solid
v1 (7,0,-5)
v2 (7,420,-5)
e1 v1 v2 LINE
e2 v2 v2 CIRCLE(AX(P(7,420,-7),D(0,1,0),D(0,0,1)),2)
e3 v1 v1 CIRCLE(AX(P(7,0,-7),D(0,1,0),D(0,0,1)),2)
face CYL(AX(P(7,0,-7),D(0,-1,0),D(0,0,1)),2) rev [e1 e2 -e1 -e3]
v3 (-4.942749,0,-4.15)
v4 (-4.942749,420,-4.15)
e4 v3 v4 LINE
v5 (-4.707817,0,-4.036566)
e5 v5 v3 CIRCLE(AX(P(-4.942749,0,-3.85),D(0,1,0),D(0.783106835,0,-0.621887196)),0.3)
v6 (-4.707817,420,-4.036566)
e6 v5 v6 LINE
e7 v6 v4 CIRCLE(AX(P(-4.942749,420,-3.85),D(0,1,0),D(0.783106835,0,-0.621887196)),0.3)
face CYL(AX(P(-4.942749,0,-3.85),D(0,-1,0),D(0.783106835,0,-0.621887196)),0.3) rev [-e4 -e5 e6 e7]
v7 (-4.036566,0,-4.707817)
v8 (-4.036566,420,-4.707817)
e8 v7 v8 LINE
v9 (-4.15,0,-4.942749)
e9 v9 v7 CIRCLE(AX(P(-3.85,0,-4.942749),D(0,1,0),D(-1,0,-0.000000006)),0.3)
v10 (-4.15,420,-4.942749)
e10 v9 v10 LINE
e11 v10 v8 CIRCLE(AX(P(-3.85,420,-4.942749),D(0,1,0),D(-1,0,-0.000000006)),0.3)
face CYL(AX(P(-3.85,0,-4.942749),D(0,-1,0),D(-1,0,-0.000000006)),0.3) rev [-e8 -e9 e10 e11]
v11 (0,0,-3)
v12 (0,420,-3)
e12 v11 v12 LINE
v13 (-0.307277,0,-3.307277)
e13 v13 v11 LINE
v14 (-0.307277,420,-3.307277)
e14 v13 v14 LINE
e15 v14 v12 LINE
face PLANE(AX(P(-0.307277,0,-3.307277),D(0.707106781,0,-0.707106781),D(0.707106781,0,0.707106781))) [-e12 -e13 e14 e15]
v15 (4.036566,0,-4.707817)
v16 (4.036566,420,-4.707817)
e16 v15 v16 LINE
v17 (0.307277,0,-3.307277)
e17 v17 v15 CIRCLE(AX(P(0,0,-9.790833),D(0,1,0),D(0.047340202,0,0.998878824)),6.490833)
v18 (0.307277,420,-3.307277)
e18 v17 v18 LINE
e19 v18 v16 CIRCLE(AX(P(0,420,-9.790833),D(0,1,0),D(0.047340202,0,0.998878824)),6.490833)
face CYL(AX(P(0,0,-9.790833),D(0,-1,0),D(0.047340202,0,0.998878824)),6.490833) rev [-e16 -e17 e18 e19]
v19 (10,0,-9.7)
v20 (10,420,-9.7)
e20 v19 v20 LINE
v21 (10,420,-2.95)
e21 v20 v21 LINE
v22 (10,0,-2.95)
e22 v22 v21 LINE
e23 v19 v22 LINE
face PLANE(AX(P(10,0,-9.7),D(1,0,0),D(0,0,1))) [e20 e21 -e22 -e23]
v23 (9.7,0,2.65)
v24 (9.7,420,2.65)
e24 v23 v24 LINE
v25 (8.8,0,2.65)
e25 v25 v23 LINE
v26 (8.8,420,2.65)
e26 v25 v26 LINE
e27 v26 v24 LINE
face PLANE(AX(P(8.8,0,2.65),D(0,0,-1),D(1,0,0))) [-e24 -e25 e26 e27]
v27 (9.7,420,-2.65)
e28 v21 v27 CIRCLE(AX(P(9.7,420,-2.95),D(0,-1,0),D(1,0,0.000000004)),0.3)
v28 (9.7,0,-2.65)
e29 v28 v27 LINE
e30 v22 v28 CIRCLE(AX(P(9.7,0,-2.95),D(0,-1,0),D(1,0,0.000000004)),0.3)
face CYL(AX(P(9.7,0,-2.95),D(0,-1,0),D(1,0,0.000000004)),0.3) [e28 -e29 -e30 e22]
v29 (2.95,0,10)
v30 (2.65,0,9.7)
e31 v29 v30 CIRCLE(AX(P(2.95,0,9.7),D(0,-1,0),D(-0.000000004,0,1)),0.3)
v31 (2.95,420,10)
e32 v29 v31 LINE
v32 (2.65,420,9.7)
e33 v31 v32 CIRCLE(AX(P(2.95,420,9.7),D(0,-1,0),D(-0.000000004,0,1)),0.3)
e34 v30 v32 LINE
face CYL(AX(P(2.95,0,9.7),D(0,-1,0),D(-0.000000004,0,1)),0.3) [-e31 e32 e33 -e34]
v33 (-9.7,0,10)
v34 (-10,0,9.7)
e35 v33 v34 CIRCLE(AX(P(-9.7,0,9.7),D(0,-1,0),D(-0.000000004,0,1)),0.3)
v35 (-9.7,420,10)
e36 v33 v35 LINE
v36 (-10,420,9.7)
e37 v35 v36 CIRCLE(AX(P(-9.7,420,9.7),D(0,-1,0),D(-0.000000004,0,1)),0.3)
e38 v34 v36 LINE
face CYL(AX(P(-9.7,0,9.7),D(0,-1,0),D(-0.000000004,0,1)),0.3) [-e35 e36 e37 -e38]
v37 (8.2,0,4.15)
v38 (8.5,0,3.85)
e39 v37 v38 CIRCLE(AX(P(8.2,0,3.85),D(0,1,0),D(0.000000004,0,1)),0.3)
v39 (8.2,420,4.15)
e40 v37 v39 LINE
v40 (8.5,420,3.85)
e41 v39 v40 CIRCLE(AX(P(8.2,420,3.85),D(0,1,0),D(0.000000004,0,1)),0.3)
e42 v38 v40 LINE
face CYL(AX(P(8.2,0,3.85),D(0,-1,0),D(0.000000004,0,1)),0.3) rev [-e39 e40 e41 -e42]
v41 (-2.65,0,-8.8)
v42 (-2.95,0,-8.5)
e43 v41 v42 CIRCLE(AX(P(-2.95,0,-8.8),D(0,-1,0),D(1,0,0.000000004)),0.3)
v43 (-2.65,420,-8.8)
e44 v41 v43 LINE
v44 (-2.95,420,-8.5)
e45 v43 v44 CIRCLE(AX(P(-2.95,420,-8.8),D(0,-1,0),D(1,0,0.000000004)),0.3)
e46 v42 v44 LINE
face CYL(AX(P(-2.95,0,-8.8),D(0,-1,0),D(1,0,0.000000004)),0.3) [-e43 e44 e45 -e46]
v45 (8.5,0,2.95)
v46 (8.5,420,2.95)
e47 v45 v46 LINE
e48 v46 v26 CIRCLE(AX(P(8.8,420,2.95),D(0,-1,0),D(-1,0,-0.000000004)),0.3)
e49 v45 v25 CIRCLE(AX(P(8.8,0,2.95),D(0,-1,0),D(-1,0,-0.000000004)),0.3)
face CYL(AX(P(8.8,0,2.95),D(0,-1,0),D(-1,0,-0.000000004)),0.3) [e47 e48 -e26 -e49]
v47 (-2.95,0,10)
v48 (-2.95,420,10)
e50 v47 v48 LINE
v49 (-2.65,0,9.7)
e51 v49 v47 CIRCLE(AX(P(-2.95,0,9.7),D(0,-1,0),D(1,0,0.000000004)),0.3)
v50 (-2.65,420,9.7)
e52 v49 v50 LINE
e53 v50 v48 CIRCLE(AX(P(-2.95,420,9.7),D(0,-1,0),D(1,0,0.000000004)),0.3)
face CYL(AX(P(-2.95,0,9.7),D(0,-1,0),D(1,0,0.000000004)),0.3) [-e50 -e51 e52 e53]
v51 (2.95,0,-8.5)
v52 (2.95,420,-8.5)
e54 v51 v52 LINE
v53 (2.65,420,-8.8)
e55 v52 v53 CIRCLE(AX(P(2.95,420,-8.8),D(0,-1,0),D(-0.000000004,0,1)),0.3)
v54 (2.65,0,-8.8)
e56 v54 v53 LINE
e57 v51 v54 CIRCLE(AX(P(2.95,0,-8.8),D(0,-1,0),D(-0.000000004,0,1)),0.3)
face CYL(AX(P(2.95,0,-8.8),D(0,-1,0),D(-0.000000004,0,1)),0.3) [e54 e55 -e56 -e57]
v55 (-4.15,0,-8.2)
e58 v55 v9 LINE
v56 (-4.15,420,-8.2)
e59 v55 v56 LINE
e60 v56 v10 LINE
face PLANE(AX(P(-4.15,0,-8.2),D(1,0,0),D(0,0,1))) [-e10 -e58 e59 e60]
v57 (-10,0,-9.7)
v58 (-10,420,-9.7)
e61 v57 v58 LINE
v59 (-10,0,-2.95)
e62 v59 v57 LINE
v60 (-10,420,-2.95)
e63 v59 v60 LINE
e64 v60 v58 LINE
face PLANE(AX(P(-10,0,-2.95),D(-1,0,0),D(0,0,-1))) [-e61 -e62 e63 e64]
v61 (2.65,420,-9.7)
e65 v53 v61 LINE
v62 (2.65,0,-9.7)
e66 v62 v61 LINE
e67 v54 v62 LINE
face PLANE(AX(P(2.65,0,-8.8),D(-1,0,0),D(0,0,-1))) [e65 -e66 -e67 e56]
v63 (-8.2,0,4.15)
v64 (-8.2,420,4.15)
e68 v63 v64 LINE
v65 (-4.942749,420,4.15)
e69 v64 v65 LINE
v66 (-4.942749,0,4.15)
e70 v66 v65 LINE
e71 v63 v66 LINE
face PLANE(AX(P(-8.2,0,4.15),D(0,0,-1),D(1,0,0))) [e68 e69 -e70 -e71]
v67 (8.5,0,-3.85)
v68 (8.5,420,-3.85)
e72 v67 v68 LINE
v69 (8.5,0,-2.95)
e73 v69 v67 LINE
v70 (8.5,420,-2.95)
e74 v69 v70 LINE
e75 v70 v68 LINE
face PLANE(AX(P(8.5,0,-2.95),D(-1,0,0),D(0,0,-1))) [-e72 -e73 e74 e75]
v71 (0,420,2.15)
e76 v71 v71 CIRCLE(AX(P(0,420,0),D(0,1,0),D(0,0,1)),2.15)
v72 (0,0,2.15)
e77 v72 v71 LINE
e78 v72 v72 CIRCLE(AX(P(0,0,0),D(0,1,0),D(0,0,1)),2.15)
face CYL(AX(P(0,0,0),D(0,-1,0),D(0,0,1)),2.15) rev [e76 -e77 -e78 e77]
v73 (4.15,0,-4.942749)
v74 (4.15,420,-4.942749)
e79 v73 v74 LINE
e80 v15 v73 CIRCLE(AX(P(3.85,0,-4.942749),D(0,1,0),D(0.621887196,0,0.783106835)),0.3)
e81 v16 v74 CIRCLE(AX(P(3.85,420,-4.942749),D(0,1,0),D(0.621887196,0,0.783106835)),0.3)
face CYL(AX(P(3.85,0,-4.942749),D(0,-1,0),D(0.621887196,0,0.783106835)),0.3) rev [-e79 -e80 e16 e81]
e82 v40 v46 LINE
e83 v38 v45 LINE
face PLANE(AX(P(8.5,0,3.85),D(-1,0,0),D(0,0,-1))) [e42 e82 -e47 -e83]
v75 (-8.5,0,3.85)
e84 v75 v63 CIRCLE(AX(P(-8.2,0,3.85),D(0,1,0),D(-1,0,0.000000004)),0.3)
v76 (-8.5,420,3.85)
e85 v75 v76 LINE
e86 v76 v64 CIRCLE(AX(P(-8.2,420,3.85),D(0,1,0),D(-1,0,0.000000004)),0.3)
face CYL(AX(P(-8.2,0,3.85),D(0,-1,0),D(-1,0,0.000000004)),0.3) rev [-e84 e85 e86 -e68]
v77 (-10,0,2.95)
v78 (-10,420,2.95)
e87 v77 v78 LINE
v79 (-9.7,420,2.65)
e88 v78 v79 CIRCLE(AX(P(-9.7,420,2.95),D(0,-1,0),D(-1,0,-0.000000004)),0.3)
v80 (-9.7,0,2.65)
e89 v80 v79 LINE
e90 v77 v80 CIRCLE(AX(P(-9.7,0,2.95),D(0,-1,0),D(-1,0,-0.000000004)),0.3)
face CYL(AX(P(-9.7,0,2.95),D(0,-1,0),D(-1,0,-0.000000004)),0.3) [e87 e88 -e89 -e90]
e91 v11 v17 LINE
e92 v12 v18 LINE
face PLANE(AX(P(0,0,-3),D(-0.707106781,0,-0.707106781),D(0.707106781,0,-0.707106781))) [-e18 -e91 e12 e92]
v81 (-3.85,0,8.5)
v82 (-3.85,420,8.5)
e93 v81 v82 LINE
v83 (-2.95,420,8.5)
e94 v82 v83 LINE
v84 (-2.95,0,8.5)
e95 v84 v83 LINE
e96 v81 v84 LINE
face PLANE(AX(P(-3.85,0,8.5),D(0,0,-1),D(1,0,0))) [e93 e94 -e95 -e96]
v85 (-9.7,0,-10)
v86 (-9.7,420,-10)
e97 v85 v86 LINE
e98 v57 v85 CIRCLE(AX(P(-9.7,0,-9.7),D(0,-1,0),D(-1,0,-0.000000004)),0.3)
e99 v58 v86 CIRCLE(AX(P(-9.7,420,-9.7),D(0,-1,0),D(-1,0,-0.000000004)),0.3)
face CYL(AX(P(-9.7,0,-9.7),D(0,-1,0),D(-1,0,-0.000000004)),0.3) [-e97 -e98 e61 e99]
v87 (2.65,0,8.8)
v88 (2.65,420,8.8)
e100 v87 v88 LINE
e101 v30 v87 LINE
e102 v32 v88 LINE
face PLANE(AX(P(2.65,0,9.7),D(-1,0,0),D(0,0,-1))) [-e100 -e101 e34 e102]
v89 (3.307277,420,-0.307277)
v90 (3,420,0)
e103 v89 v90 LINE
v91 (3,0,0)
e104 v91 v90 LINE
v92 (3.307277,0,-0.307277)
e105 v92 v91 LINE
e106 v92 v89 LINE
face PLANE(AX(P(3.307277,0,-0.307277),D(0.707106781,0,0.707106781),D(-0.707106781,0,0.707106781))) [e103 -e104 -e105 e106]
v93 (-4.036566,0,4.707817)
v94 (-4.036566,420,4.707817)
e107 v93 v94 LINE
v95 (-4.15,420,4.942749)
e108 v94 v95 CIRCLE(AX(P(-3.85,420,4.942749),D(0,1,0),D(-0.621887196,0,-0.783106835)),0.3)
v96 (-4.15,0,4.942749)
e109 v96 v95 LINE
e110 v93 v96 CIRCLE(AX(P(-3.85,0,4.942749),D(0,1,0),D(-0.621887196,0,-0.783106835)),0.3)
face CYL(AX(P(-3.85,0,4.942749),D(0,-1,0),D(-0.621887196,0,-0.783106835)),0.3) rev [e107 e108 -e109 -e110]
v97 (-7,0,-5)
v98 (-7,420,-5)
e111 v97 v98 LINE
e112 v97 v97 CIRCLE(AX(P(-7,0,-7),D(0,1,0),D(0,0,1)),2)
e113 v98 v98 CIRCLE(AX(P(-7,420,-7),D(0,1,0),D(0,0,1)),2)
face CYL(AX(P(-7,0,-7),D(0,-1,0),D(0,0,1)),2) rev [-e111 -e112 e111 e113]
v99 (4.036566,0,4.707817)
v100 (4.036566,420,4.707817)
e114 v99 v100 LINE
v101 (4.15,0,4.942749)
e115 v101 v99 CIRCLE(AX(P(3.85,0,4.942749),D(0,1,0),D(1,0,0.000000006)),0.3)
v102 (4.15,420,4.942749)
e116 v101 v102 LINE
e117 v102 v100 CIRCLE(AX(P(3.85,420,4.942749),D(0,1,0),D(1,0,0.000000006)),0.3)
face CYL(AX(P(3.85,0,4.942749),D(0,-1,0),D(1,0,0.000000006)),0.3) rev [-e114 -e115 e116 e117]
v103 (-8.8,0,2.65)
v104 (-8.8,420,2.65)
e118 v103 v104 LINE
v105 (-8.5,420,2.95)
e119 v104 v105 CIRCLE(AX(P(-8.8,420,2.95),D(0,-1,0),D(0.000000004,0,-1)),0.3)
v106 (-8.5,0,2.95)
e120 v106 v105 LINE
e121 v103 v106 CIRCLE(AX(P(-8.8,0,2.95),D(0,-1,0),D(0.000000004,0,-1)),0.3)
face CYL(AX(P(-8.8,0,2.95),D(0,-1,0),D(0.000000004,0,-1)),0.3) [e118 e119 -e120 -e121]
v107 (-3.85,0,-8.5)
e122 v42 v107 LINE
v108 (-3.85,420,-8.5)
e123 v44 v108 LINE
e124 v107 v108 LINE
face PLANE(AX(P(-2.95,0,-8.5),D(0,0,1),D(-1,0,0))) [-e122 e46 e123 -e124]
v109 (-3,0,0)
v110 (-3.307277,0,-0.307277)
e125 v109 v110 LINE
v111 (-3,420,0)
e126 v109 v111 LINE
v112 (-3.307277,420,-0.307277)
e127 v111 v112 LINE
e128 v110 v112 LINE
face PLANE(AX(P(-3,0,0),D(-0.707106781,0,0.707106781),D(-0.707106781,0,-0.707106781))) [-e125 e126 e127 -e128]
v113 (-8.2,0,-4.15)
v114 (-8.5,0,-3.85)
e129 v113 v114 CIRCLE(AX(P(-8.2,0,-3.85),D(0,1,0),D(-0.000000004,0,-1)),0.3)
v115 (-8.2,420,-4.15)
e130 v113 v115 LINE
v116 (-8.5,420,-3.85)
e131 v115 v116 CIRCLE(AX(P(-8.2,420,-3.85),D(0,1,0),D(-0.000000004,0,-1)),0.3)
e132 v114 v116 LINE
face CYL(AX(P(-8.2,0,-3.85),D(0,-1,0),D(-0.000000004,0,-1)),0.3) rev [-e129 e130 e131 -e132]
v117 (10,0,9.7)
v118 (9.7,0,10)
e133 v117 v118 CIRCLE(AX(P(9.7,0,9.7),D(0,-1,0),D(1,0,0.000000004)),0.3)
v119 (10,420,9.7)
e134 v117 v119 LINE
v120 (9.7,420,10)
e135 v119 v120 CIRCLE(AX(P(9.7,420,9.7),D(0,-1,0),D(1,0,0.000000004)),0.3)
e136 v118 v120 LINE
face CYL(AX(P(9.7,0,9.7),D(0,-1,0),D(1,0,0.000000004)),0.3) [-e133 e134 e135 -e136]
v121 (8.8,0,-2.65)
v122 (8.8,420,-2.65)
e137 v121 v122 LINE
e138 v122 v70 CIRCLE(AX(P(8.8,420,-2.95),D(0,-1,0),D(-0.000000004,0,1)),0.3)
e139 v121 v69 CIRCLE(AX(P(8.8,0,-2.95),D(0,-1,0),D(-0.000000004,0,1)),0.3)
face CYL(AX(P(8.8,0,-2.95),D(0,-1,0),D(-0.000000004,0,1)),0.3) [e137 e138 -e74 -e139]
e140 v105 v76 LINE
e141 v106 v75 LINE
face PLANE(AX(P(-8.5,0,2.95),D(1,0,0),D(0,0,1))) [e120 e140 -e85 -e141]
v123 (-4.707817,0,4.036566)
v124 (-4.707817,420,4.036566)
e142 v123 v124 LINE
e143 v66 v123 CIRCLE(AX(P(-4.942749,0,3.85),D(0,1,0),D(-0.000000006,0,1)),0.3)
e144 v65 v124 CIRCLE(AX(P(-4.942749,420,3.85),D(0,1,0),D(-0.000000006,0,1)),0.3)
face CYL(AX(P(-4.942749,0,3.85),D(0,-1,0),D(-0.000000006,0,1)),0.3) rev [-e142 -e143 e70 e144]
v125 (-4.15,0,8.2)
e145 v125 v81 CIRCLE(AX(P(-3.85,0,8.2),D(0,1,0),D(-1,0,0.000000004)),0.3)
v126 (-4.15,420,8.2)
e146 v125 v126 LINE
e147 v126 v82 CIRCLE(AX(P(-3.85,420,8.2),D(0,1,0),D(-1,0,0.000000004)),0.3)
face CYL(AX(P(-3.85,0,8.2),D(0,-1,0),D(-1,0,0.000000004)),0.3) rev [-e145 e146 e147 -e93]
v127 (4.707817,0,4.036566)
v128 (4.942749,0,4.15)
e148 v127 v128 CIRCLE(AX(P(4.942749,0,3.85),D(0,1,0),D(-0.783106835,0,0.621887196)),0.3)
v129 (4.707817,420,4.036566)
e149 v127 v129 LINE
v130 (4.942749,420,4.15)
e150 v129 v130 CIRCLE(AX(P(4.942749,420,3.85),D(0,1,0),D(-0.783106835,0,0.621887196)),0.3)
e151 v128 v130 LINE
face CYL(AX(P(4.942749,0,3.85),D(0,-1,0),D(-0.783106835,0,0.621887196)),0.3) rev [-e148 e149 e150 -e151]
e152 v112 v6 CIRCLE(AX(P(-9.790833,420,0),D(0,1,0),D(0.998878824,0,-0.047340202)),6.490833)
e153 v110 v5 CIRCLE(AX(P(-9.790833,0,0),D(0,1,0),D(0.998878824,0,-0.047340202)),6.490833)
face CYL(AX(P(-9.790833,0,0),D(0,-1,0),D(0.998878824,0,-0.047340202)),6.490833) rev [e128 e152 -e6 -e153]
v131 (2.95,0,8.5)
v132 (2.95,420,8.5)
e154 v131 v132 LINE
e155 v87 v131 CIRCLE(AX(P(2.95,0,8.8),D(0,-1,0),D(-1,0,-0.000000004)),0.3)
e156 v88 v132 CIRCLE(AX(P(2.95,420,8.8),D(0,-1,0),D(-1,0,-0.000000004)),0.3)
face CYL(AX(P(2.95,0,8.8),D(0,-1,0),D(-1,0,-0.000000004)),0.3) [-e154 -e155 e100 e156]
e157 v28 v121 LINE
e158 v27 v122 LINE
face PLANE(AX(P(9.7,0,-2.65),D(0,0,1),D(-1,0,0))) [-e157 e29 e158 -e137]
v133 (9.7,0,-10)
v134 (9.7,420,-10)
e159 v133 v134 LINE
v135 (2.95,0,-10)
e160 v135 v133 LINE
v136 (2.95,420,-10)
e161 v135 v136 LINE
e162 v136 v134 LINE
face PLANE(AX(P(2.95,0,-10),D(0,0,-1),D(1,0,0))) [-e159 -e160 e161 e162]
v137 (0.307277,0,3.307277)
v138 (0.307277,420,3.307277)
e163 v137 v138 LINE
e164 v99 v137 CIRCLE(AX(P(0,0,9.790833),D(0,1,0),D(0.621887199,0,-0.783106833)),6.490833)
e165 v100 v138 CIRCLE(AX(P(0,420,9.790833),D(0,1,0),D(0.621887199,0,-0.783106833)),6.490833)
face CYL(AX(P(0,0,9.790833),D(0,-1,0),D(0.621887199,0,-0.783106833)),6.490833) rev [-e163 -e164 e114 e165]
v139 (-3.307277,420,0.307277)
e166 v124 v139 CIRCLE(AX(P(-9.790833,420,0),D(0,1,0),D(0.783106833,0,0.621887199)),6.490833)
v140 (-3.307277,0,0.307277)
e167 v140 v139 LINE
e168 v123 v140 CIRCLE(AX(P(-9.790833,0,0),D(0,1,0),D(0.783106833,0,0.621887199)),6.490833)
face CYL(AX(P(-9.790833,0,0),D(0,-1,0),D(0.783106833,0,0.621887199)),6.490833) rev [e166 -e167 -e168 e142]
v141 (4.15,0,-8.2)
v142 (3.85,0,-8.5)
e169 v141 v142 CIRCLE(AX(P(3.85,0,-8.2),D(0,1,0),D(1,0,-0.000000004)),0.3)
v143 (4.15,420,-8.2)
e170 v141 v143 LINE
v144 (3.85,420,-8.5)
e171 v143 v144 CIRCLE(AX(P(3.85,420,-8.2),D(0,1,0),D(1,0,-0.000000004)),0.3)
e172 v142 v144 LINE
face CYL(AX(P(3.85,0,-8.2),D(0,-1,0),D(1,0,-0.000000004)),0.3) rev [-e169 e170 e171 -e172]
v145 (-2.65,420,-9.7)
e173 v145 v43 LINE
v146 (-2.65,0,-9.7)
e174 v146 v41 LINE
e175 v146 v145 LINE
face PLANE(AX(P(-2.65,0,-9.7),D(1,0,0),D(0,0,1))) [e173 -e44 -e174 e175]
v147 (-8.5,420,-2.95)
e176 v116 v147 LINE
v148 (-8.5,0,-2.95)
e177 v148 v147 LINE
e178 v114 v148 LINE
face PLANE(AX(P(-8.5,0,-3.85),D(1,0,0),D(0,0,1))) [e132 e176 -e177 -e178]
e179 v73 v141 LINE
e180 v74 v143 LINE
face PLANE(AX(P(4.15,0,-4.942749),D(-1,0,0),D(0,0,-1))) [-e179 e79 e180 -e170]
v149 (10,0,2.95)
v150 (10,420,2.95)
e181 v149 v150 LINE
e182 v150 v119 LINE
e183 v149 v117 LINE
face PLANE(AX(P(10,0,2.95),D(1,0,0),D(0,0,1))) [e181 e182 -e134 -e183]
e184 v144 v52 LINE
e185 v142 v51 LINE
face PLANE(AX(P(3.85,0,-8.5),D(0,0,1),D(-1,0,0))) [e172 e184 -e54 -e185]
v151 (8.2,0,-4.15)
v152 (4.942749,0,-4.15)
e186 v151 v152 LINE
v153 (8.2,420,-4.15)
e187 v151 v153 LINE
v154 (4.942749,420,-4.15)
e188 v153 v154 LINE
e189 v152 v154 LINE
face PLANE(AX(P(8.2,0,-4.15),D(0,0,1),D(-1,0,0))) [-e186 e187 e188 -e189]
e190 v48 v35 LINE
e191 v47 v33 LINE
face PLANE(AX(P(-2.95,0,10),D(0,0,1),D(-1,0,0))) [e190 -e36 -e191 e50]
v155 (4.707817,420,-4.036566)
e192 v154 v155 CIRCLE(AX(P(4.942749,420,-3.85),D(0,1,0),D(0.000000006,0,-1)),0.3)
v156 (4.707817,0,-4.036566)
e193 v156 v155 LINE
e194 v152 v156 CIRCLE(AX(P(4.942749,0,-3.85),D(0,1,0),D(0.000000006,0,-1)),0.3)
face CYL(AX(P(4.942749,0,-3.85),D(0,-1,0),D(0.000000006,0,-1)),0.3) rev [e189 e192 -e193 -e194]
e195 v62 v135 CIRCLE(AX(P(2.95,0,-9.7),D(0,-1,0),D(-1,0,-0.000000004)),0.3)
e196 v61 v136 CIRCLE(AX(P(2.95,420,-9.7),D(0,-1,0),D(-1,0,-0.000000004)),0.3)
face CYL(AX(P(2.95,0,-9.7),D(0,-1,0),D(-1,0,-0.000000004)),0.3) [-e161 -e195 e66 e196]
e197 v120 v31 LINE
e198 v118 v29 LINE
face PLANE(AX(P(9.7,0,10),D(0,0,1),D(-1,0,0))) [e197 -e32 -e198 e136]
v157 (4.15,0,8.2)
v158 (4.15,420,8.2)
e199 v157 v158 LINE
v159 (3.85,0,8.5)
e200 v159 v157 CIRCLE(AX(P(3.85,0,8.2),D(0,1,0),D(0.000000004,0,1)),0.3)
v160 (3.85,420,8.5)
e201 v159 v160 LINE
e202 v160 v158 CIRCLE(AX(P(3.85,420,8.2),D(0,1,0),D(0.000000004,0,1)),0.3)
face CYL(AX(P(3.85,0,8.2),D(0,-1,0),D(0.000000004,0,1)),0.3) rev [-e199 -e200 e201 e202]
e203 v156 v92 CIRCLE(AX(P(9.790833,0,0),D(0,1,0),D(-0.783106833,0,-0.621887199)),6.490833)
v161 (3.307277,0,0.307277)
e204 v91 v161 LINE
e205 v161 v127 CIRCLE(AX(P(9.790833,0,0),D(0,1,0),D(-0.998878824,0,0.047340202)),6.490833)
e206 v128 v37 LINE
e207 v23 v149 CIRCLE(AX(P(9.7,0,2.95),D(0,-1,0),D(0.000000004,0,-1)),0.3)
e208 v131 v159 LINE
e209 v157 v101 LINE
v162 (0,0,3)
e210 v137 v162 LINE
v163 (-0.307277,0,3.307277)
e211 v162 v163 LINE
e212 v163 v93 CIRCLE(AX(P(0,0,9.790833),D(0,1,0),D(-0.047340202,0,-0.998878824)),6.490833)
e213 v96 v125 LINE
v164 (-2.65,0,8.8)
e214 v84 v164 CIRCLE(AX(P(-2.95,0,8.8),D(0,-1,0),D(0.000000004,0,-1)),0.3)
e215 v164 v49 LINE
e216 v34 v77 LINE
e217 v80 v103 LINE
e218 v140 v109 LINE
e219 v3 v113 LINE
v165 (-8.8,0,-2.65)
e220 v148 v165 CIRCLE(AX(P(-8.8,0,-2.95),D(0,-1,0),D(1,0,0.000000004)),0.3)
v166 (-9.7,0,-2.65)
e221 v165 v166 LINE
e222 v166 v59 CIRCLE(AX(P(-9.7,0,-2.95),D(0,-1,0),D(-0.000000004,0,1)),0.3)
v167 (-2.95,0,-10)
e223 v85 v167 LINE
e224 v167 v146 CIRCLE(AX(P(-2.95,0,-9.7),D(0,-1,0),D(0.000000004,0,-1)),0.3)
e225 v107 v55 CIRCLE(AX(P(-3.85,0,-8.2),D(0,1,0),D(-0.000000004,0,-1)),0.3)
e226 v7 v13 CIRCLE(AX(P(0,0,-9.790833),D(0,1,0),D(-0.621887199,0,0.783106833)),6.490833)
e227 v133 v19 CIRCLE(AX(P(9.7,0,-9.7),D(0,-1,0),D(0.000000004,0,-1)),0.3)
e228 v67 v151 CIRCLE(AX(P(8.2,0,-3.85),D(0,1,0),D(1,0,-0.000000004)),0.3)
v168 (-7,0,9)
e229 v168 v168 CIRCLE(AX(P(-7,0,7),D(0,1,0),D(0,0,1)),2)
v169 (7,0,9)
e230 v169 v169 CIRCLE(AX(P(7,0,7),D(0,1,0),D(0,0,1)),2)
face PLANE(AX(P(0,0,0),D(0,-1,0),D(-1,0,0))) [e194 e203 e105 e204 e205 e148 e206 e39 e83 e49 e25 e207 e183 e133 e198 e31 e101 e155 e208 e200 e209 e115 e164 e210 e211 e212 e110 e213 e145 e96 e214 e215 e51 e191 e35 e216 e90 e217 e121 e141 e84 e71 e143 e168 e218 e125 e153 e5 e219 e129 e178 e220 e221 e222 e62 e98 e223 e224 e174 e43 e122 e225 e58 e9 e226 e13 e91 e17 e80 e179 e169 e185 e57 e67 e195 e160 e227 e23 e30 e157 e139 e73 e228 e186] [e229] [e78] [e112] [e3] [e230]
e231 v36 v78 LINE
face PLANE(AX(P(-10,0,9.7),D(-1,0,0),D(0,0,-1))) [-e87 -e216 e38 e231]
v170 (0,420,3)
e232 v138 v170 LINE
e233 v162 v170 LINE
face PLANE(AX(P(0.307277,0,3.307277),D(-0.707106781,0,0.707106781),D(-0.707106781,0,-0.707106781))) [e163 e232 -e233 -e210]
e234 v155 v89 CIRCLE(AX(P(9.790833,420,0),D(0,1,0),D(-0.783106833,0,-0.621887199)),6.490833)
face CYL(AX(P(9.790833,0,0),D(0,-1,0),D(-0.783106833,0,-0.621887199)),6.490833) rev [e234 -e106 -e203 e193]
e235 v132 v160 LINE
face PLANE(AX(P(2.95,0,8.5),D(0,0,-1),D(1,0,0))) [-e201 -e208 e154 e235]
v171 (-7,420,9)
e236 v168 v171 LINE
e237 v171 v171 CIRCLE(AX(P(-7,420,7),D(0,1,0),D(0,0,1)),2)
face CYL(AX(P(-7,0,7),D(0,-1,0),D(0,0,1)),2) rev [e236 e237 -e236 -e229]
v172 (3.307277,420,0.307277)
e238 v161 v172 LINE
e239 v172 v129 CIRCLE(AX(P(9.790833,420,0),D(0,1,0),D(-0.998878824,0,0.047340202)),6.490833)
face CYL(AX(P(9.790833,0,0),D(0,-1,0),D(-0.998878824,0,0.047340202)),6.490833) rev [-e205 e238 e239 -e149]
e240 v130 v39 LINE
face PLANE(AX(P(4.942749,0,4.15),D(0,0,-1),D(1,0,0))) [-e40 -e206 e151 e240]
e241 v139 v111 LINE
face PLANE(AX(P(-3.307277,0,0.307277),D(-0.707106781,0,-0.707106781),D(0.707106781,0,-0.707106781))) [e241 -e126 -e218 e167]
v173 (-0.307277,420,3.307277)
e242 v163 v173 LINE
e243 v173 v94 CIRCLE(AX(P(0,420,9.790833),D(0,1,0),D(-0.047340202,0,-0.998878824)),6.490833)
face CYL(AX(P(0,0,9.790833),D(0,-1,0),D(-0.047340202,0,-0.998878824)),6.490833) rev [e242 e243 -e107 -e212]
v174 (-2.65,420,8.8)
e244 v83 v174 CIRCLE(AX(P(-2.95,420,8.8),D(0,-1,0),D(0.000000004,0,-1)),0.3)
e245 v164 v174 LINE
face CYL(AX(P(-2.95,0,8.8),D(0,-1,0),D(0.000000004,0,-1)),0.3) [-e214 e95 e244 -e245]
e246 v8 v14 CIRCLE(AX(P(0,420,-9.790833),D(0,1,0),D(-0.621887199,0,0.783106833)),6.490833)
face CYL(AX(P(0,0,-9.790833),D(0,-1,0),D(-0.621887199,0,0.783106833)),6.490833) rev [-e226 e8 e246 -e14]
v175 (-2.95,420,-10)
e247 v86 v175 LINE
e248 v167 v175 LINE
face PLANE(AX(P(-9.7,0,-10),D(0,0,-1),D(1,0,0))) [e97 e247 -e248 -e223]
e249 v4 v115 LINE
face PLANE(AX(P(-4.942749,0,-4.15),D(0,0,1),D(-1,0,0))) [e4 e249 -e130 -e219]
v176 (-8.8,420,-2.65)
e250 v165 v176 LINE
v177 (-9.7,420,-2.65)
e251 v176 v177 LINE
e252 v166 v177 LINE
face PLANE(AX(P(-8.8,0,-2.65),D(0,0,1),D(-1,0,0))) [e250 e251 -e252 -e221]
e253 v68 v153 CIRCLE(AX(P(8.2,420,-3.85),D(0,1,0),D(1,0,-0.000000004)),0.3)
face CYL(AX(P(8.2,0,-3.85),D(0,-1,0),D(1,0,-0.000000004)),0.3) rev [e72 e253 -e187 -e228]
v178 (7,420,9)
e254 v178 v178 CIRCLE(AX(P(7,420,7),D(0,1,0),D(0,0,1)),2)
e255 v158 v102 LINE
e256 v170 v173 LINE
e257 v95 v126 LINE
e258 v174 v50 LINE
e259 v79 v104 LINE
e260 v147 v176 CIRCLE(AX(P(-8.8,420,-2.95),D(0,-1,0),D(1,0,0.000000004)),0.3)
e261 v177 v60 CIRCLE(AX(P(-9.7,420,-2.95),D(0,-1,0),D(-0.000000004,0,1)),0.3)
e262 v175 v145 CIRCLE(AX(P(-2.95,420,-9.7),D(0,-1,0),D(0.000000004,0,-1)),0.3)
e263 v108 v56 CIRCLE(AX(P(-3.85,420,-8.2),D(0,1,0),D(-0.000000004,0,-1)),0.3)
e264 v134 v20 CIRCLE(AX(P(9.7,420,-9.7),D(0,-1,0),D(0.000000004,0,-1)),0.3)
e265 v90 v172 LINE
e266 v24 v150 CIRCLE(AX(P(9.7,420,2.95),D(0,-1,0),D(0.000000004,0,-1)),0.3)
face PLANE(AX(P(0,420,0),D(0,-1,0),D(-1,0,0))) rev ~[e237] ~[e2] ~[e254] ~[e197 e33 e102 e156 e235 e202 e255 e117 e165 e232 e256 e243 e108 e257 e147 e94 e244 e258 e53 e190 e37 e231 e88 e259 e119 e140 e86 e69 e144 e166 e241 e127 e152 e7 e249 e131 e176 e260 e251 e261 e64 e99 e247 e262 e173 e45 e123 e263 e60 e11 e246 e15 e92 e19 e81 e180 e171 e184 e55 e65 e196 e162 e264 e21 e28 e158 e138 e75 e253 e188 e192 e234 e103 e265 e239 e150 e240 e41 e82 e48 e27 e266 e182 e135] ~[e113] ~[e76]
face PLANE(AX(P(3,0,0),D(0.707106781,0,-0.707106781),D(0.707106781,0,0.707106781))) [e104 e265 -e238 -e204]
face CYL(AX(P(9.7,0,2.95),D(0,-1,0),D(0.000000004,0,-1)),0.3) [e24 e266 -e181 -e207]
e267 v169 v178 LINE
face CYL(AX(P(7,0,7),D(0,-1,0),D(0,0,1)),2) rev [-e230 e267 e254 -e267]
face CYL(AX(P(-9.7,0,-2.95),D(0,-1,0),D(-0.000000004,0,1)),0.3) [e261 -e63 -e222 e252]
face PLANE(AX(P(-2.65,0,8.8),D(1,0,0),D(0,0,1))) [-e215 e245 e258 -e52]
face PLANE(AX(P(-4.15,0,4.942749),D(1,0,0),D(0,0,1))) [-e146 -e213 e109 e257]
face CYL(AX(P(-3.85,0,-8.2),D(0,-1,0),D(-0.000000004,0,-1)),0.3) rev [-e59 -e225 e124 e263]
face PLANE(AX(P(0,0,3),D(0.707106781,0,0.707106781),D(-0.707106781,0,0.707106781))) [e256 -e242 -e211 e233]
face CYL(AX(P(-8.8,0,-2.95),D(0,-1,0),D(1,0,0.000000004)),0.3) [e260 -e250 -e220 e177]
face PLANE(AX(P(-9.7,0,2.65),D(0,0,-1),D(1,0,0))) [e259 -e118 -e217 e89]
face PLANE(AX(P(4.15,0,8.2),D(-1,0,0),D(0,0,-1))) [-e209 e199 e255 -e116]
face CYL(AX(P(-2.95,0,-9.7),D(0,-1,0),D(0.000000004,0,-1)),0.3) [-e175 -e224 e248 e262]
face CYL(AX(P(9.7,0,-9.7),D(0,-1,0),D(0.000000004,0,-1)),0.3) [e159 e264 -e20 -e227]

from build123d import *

# Parameters (mm, degrees)
SKETCH_1_R      = 2.15
SKETCH_1_R_2    = 2
EXTRUDE_1_DEPTH = 420


with BuildPart() as part:
    # 스케치1 → 보스-돌출1 (new body)
    with BuildSketch(Plane(origin=(0, 0, 0), x_dir=(1, 0, 0), z_dir=(0, 1, 0))):
        with BuildLine():
            Line((4.15, 4.942749448), (4.15, 8.2))
            ThreePointArc((4.15, 8.2), (4.062132034, 8.412132034), (3.85, 8.5))
            Line((3.85, 8.5), (2.95, 8.5))
            ThreePointArc((2.95, 8.5), (2.737867966, 8.587867966), (2.65, 8.8))
            Line((2.65, 8.8), (2.65, 9.7))
            ThreePointArc((2.65, 9.7), (2.737867966, 9.912132034), (2.95, 10))
            Line((2.95, 10), (9.7, 10))
            ThreePointArc((9.7, 10), (9.912132034, 9.912132034), (10, 9.7))
            Line((10, 9.7), (10, 2.95))
            ThreePointArc((10, 2.95), (9.912132034, 2.737867966), (9.7, 2.65))
            Line((9.7, 2.65), (8.8, 2.65))
            ThreePointArc((8.8, 2.65), (8.587867966, 2.737867966), (8.5, 2.95))
            Line((8.5, 2.95), (8.5, 3.85))
            ThreePointArc((8.5, 3.85), (8.412132034, 4.062132034), (8.2, 4.15))
            Line((8.2, 4.15), (4.942749448, 4.15))
            ThreePointArc((4.942749448, 4.15), (4.812307598, 4.120157221), (4.707817398, 4.03656616))
            ThreePointArc((4.707817398, 4.03656616), (3.714379176, 2.282021525), (3.307277366, 0.307277366))
            Line((3.307277366, 0.307277366), (3, 0))
            Line((3, 0), (3.307277366, -0.307277366))
            ThreePointArc((3.307277366, -0.307277366), (3.714379176, -2.282021525), (4.707817398, -4.03656616))
            ThreePointArc((4.707817398, -4.03656616), (4.812307598, -4.120157221), (4.942749448, -4.15))
            Line((4.942749448, -4.15), (8.2, -4.15))
            ThreePointArc((8.2, -4.15), (8.412132034, -4.062132034), (8.5, -3.85))
            Line((8.5, -3.85), (8.5, -2.95))
            ThreePointArc((8.5, -2.95), (8.587867966, -2.737867966), (8.8, -2.65))
            Line((8.8, -2.65), (9.7, -2.65))
            ThreePointArc((9.7, -2.65), (9.912132034, -2.737867966), (10, -2.95))
            Line((10, -2.95), (10, -9.7))
            ThreePointArc((10, -9.7), (9.912132034, -9.912132034), (9.7, -10))
            Line((9.7, -10), (2.95, -10))
            ThreePointArc((2.95, -10), (2.737867966, -9.912132034), (2.65, -9.7))
            Line((2.65, -9.7), (2.65, -8.8))
            ThreePointArc((2.65, -8.8), (2.737867966, -8.587867966), (2.95, -8.5))
            Line((2.95, -8.5), (3.85, -8.5))
            ThreePointArc((3.85, -8.5), (4.062132034, -8.412132034), (4.15, -8.2))
            Line((4.15, -8.2), (4.15, -4.942749448))
            ThreePointArc((4.15, -4.942749448), (4.120157221, -4.812307598), (4.03656616, -4.707817398))
            ThreePointArc((4.03656616, -4.707817398), (2.282021525, -3.714379176), (0.307277366, -3.307277366))
            Line((0.307277366, -3.307277366), (0, -3))
            Line((0, -3), (-0.307277366, -3.307277366))
            ThreePointArc((-0.307277366, -3.307277366), (-2.282021525, -3.714379176), (-4.03656616, -4.707817398))
            ThreePointArc((-4.03656616, -4.707817398), (-4.120157221, -4.812307598), (-4.15, -4.942749448))
            Line((-4.15, -4.942749448), (-4.15, -8.2))
            ThreePointArc((-4.15, -8.2), (-4.062132034, -8.412132034), (-3.85, -8.5))
            Line((-3.85, -8.5), (-2.95, -8.5))
            ThreePointArc((-2.95, -8.5), (-2.737867966, -8.587867966), (-2.65, -8.8))
            Line((-2.65, -8.8), (-2.65, -9.7))
            ThreePointArc((-2.65, -9.7), (-2.737867966, -9.912132034), (-2.95, -10))
            Line((-2.95, -10), (-9.7, -10))
            ThreePointArc((-9.7, -10), (-9.912132034, -9.912132034), (-10, -9.7))
            Line((-10, -9.7), (-10, -2.95))
            ThreePointArc((-10, -2.95), (-9.912132034, -2.737867966), (-9.7, -2.65))
            Line((-9.7, -2.65), (-8.8, -2.65))
            ThreePointArc((-8.8, -2.65), (-8.587867966, -2.737867966), (-8.5, -2.95))
            Line((-8.5, -2.95), (-8.5, -3.85))
            ThreePointArc((-8.5, -3.85), (-8.412132034, -4.062132034), (-8.2, -4.15))
            Line((-8.2, -4.15), (-4.942749448, -4.15))
            ThreePointArc((-4.942749448, -4.15), (-4.812307598, -4.120157221), (-4.707817398, -4.03656616))
            ThreePointArc((-4.707817398, -4.03656616), (-3.714379176, -2.282021525), (-3.307277366, -0.307277366))
            Line((-3.307277366, -0.307277366), (-3, 0))
            Line((-3, 0), (-3.307277366, 0.307277366))
            ThreePointArc((-3.307277366, 0.307277366), (-3.714379176, 2.282021525), (-4.707817398, 4.03656616))
            ThreePointArc((-4.707817398, 4.03656616), (-4.812307598, 4.120157221), (-4.942749448, 4.15))
            Line((-4.942749448, 4.15), (-8.2, 4.15))
            ThreePointArc((-8.2, 4.15), (-8.412132034, 4.062132034), (-8.5, 3.85))
            Line((-8.5, 3.85), (-8.5, 2.95))
            ThreePointArc((-8.5, 2.95), (-8.587867966, 2.737867966), (-8.8, 2.65))
            Line((-8.8, 2.65), (-9.7, 2.65))
            ThreePointArc((-9.7, 2.65), (-9.912132034, 2.737867966), (-10, 2.95))
            Line((-10, 2.95), (-10, 9.7))
            ThreePointArc((-10, 9.7), (-9.912132034, 9.912132034), (-9.7, 10))
            Line((-9.7, 10), (-2.95, 10))
            ThreePointArc((-2.95, 10), (-2.737867966, 9.912132034), (-2.65, 9.7))
            Line((-2.65, 9.7), (-2.65, 8.8))
            ThreePointArc((-2.65, 8.8), (-2.737867966, 8.587867966), (-2.95, 8.5))
            Line((-2.95, 8.5), (-3.85, 8.5))
            ThreePointArc((-3.85, 8.5), (-4.062132034, 8.412132034), (-4.15, 8.2))
            Line((-4.15, 8.2), (-4.15, 4.942749448))
            ThreePointArc((-4.15, 4.942749448), (-4.120157221, 4.812307598), (-4.03656616, 4.707817398))
            ThreePointArc((-4.03656616, 4.707817398), (-2.282021525, 3.714379176), (-0.307277366, 3.307277366))
            Line((-0.307277366, 3.307277366), (0, 3))
            Line((0, 3), (0.307277366, 3.307277366))
            ThreePointArc((0.307277366, 3.307277366), (2.282021525, 3.714379176), (4.03656616, 4.707817398))
            ThreePointArc((4.03656616, 4.707817398), (4.120157221, 4.812307598), (4.15, 4.942749448))
        make_face()
        with Locations(Location((0, 0, 0), (0, 0, 270))):
            Circle(SKETCH_1_R, mode=Mode.SUBTRACT)
        with Locations(Location((-7, 7, 0), (0, 0, 270))):
            Circle(SKETCH_1_R_2, mode=Mode.SUBTRACT)
        with Locations(Location((-7, -7, 0), (0, 0, 270))):
            Circle(SKETCH_1_R_2, mode=Mode.SUBTRACT)
        with Locations(Location((7, 7, 0), (0, 0, 270))):
            Circle(SKETCH_1_R_2, mode=Mode.SUBTRACT)
        with Locations(Location((7, -7, 0), (0, 0, 270))):
            Circle(SKETCH_1_R_2, mode=Mode.SUBTRACT)
    extrude(amount=EXTRUDE_1_DEPTH)


solid = part.part
